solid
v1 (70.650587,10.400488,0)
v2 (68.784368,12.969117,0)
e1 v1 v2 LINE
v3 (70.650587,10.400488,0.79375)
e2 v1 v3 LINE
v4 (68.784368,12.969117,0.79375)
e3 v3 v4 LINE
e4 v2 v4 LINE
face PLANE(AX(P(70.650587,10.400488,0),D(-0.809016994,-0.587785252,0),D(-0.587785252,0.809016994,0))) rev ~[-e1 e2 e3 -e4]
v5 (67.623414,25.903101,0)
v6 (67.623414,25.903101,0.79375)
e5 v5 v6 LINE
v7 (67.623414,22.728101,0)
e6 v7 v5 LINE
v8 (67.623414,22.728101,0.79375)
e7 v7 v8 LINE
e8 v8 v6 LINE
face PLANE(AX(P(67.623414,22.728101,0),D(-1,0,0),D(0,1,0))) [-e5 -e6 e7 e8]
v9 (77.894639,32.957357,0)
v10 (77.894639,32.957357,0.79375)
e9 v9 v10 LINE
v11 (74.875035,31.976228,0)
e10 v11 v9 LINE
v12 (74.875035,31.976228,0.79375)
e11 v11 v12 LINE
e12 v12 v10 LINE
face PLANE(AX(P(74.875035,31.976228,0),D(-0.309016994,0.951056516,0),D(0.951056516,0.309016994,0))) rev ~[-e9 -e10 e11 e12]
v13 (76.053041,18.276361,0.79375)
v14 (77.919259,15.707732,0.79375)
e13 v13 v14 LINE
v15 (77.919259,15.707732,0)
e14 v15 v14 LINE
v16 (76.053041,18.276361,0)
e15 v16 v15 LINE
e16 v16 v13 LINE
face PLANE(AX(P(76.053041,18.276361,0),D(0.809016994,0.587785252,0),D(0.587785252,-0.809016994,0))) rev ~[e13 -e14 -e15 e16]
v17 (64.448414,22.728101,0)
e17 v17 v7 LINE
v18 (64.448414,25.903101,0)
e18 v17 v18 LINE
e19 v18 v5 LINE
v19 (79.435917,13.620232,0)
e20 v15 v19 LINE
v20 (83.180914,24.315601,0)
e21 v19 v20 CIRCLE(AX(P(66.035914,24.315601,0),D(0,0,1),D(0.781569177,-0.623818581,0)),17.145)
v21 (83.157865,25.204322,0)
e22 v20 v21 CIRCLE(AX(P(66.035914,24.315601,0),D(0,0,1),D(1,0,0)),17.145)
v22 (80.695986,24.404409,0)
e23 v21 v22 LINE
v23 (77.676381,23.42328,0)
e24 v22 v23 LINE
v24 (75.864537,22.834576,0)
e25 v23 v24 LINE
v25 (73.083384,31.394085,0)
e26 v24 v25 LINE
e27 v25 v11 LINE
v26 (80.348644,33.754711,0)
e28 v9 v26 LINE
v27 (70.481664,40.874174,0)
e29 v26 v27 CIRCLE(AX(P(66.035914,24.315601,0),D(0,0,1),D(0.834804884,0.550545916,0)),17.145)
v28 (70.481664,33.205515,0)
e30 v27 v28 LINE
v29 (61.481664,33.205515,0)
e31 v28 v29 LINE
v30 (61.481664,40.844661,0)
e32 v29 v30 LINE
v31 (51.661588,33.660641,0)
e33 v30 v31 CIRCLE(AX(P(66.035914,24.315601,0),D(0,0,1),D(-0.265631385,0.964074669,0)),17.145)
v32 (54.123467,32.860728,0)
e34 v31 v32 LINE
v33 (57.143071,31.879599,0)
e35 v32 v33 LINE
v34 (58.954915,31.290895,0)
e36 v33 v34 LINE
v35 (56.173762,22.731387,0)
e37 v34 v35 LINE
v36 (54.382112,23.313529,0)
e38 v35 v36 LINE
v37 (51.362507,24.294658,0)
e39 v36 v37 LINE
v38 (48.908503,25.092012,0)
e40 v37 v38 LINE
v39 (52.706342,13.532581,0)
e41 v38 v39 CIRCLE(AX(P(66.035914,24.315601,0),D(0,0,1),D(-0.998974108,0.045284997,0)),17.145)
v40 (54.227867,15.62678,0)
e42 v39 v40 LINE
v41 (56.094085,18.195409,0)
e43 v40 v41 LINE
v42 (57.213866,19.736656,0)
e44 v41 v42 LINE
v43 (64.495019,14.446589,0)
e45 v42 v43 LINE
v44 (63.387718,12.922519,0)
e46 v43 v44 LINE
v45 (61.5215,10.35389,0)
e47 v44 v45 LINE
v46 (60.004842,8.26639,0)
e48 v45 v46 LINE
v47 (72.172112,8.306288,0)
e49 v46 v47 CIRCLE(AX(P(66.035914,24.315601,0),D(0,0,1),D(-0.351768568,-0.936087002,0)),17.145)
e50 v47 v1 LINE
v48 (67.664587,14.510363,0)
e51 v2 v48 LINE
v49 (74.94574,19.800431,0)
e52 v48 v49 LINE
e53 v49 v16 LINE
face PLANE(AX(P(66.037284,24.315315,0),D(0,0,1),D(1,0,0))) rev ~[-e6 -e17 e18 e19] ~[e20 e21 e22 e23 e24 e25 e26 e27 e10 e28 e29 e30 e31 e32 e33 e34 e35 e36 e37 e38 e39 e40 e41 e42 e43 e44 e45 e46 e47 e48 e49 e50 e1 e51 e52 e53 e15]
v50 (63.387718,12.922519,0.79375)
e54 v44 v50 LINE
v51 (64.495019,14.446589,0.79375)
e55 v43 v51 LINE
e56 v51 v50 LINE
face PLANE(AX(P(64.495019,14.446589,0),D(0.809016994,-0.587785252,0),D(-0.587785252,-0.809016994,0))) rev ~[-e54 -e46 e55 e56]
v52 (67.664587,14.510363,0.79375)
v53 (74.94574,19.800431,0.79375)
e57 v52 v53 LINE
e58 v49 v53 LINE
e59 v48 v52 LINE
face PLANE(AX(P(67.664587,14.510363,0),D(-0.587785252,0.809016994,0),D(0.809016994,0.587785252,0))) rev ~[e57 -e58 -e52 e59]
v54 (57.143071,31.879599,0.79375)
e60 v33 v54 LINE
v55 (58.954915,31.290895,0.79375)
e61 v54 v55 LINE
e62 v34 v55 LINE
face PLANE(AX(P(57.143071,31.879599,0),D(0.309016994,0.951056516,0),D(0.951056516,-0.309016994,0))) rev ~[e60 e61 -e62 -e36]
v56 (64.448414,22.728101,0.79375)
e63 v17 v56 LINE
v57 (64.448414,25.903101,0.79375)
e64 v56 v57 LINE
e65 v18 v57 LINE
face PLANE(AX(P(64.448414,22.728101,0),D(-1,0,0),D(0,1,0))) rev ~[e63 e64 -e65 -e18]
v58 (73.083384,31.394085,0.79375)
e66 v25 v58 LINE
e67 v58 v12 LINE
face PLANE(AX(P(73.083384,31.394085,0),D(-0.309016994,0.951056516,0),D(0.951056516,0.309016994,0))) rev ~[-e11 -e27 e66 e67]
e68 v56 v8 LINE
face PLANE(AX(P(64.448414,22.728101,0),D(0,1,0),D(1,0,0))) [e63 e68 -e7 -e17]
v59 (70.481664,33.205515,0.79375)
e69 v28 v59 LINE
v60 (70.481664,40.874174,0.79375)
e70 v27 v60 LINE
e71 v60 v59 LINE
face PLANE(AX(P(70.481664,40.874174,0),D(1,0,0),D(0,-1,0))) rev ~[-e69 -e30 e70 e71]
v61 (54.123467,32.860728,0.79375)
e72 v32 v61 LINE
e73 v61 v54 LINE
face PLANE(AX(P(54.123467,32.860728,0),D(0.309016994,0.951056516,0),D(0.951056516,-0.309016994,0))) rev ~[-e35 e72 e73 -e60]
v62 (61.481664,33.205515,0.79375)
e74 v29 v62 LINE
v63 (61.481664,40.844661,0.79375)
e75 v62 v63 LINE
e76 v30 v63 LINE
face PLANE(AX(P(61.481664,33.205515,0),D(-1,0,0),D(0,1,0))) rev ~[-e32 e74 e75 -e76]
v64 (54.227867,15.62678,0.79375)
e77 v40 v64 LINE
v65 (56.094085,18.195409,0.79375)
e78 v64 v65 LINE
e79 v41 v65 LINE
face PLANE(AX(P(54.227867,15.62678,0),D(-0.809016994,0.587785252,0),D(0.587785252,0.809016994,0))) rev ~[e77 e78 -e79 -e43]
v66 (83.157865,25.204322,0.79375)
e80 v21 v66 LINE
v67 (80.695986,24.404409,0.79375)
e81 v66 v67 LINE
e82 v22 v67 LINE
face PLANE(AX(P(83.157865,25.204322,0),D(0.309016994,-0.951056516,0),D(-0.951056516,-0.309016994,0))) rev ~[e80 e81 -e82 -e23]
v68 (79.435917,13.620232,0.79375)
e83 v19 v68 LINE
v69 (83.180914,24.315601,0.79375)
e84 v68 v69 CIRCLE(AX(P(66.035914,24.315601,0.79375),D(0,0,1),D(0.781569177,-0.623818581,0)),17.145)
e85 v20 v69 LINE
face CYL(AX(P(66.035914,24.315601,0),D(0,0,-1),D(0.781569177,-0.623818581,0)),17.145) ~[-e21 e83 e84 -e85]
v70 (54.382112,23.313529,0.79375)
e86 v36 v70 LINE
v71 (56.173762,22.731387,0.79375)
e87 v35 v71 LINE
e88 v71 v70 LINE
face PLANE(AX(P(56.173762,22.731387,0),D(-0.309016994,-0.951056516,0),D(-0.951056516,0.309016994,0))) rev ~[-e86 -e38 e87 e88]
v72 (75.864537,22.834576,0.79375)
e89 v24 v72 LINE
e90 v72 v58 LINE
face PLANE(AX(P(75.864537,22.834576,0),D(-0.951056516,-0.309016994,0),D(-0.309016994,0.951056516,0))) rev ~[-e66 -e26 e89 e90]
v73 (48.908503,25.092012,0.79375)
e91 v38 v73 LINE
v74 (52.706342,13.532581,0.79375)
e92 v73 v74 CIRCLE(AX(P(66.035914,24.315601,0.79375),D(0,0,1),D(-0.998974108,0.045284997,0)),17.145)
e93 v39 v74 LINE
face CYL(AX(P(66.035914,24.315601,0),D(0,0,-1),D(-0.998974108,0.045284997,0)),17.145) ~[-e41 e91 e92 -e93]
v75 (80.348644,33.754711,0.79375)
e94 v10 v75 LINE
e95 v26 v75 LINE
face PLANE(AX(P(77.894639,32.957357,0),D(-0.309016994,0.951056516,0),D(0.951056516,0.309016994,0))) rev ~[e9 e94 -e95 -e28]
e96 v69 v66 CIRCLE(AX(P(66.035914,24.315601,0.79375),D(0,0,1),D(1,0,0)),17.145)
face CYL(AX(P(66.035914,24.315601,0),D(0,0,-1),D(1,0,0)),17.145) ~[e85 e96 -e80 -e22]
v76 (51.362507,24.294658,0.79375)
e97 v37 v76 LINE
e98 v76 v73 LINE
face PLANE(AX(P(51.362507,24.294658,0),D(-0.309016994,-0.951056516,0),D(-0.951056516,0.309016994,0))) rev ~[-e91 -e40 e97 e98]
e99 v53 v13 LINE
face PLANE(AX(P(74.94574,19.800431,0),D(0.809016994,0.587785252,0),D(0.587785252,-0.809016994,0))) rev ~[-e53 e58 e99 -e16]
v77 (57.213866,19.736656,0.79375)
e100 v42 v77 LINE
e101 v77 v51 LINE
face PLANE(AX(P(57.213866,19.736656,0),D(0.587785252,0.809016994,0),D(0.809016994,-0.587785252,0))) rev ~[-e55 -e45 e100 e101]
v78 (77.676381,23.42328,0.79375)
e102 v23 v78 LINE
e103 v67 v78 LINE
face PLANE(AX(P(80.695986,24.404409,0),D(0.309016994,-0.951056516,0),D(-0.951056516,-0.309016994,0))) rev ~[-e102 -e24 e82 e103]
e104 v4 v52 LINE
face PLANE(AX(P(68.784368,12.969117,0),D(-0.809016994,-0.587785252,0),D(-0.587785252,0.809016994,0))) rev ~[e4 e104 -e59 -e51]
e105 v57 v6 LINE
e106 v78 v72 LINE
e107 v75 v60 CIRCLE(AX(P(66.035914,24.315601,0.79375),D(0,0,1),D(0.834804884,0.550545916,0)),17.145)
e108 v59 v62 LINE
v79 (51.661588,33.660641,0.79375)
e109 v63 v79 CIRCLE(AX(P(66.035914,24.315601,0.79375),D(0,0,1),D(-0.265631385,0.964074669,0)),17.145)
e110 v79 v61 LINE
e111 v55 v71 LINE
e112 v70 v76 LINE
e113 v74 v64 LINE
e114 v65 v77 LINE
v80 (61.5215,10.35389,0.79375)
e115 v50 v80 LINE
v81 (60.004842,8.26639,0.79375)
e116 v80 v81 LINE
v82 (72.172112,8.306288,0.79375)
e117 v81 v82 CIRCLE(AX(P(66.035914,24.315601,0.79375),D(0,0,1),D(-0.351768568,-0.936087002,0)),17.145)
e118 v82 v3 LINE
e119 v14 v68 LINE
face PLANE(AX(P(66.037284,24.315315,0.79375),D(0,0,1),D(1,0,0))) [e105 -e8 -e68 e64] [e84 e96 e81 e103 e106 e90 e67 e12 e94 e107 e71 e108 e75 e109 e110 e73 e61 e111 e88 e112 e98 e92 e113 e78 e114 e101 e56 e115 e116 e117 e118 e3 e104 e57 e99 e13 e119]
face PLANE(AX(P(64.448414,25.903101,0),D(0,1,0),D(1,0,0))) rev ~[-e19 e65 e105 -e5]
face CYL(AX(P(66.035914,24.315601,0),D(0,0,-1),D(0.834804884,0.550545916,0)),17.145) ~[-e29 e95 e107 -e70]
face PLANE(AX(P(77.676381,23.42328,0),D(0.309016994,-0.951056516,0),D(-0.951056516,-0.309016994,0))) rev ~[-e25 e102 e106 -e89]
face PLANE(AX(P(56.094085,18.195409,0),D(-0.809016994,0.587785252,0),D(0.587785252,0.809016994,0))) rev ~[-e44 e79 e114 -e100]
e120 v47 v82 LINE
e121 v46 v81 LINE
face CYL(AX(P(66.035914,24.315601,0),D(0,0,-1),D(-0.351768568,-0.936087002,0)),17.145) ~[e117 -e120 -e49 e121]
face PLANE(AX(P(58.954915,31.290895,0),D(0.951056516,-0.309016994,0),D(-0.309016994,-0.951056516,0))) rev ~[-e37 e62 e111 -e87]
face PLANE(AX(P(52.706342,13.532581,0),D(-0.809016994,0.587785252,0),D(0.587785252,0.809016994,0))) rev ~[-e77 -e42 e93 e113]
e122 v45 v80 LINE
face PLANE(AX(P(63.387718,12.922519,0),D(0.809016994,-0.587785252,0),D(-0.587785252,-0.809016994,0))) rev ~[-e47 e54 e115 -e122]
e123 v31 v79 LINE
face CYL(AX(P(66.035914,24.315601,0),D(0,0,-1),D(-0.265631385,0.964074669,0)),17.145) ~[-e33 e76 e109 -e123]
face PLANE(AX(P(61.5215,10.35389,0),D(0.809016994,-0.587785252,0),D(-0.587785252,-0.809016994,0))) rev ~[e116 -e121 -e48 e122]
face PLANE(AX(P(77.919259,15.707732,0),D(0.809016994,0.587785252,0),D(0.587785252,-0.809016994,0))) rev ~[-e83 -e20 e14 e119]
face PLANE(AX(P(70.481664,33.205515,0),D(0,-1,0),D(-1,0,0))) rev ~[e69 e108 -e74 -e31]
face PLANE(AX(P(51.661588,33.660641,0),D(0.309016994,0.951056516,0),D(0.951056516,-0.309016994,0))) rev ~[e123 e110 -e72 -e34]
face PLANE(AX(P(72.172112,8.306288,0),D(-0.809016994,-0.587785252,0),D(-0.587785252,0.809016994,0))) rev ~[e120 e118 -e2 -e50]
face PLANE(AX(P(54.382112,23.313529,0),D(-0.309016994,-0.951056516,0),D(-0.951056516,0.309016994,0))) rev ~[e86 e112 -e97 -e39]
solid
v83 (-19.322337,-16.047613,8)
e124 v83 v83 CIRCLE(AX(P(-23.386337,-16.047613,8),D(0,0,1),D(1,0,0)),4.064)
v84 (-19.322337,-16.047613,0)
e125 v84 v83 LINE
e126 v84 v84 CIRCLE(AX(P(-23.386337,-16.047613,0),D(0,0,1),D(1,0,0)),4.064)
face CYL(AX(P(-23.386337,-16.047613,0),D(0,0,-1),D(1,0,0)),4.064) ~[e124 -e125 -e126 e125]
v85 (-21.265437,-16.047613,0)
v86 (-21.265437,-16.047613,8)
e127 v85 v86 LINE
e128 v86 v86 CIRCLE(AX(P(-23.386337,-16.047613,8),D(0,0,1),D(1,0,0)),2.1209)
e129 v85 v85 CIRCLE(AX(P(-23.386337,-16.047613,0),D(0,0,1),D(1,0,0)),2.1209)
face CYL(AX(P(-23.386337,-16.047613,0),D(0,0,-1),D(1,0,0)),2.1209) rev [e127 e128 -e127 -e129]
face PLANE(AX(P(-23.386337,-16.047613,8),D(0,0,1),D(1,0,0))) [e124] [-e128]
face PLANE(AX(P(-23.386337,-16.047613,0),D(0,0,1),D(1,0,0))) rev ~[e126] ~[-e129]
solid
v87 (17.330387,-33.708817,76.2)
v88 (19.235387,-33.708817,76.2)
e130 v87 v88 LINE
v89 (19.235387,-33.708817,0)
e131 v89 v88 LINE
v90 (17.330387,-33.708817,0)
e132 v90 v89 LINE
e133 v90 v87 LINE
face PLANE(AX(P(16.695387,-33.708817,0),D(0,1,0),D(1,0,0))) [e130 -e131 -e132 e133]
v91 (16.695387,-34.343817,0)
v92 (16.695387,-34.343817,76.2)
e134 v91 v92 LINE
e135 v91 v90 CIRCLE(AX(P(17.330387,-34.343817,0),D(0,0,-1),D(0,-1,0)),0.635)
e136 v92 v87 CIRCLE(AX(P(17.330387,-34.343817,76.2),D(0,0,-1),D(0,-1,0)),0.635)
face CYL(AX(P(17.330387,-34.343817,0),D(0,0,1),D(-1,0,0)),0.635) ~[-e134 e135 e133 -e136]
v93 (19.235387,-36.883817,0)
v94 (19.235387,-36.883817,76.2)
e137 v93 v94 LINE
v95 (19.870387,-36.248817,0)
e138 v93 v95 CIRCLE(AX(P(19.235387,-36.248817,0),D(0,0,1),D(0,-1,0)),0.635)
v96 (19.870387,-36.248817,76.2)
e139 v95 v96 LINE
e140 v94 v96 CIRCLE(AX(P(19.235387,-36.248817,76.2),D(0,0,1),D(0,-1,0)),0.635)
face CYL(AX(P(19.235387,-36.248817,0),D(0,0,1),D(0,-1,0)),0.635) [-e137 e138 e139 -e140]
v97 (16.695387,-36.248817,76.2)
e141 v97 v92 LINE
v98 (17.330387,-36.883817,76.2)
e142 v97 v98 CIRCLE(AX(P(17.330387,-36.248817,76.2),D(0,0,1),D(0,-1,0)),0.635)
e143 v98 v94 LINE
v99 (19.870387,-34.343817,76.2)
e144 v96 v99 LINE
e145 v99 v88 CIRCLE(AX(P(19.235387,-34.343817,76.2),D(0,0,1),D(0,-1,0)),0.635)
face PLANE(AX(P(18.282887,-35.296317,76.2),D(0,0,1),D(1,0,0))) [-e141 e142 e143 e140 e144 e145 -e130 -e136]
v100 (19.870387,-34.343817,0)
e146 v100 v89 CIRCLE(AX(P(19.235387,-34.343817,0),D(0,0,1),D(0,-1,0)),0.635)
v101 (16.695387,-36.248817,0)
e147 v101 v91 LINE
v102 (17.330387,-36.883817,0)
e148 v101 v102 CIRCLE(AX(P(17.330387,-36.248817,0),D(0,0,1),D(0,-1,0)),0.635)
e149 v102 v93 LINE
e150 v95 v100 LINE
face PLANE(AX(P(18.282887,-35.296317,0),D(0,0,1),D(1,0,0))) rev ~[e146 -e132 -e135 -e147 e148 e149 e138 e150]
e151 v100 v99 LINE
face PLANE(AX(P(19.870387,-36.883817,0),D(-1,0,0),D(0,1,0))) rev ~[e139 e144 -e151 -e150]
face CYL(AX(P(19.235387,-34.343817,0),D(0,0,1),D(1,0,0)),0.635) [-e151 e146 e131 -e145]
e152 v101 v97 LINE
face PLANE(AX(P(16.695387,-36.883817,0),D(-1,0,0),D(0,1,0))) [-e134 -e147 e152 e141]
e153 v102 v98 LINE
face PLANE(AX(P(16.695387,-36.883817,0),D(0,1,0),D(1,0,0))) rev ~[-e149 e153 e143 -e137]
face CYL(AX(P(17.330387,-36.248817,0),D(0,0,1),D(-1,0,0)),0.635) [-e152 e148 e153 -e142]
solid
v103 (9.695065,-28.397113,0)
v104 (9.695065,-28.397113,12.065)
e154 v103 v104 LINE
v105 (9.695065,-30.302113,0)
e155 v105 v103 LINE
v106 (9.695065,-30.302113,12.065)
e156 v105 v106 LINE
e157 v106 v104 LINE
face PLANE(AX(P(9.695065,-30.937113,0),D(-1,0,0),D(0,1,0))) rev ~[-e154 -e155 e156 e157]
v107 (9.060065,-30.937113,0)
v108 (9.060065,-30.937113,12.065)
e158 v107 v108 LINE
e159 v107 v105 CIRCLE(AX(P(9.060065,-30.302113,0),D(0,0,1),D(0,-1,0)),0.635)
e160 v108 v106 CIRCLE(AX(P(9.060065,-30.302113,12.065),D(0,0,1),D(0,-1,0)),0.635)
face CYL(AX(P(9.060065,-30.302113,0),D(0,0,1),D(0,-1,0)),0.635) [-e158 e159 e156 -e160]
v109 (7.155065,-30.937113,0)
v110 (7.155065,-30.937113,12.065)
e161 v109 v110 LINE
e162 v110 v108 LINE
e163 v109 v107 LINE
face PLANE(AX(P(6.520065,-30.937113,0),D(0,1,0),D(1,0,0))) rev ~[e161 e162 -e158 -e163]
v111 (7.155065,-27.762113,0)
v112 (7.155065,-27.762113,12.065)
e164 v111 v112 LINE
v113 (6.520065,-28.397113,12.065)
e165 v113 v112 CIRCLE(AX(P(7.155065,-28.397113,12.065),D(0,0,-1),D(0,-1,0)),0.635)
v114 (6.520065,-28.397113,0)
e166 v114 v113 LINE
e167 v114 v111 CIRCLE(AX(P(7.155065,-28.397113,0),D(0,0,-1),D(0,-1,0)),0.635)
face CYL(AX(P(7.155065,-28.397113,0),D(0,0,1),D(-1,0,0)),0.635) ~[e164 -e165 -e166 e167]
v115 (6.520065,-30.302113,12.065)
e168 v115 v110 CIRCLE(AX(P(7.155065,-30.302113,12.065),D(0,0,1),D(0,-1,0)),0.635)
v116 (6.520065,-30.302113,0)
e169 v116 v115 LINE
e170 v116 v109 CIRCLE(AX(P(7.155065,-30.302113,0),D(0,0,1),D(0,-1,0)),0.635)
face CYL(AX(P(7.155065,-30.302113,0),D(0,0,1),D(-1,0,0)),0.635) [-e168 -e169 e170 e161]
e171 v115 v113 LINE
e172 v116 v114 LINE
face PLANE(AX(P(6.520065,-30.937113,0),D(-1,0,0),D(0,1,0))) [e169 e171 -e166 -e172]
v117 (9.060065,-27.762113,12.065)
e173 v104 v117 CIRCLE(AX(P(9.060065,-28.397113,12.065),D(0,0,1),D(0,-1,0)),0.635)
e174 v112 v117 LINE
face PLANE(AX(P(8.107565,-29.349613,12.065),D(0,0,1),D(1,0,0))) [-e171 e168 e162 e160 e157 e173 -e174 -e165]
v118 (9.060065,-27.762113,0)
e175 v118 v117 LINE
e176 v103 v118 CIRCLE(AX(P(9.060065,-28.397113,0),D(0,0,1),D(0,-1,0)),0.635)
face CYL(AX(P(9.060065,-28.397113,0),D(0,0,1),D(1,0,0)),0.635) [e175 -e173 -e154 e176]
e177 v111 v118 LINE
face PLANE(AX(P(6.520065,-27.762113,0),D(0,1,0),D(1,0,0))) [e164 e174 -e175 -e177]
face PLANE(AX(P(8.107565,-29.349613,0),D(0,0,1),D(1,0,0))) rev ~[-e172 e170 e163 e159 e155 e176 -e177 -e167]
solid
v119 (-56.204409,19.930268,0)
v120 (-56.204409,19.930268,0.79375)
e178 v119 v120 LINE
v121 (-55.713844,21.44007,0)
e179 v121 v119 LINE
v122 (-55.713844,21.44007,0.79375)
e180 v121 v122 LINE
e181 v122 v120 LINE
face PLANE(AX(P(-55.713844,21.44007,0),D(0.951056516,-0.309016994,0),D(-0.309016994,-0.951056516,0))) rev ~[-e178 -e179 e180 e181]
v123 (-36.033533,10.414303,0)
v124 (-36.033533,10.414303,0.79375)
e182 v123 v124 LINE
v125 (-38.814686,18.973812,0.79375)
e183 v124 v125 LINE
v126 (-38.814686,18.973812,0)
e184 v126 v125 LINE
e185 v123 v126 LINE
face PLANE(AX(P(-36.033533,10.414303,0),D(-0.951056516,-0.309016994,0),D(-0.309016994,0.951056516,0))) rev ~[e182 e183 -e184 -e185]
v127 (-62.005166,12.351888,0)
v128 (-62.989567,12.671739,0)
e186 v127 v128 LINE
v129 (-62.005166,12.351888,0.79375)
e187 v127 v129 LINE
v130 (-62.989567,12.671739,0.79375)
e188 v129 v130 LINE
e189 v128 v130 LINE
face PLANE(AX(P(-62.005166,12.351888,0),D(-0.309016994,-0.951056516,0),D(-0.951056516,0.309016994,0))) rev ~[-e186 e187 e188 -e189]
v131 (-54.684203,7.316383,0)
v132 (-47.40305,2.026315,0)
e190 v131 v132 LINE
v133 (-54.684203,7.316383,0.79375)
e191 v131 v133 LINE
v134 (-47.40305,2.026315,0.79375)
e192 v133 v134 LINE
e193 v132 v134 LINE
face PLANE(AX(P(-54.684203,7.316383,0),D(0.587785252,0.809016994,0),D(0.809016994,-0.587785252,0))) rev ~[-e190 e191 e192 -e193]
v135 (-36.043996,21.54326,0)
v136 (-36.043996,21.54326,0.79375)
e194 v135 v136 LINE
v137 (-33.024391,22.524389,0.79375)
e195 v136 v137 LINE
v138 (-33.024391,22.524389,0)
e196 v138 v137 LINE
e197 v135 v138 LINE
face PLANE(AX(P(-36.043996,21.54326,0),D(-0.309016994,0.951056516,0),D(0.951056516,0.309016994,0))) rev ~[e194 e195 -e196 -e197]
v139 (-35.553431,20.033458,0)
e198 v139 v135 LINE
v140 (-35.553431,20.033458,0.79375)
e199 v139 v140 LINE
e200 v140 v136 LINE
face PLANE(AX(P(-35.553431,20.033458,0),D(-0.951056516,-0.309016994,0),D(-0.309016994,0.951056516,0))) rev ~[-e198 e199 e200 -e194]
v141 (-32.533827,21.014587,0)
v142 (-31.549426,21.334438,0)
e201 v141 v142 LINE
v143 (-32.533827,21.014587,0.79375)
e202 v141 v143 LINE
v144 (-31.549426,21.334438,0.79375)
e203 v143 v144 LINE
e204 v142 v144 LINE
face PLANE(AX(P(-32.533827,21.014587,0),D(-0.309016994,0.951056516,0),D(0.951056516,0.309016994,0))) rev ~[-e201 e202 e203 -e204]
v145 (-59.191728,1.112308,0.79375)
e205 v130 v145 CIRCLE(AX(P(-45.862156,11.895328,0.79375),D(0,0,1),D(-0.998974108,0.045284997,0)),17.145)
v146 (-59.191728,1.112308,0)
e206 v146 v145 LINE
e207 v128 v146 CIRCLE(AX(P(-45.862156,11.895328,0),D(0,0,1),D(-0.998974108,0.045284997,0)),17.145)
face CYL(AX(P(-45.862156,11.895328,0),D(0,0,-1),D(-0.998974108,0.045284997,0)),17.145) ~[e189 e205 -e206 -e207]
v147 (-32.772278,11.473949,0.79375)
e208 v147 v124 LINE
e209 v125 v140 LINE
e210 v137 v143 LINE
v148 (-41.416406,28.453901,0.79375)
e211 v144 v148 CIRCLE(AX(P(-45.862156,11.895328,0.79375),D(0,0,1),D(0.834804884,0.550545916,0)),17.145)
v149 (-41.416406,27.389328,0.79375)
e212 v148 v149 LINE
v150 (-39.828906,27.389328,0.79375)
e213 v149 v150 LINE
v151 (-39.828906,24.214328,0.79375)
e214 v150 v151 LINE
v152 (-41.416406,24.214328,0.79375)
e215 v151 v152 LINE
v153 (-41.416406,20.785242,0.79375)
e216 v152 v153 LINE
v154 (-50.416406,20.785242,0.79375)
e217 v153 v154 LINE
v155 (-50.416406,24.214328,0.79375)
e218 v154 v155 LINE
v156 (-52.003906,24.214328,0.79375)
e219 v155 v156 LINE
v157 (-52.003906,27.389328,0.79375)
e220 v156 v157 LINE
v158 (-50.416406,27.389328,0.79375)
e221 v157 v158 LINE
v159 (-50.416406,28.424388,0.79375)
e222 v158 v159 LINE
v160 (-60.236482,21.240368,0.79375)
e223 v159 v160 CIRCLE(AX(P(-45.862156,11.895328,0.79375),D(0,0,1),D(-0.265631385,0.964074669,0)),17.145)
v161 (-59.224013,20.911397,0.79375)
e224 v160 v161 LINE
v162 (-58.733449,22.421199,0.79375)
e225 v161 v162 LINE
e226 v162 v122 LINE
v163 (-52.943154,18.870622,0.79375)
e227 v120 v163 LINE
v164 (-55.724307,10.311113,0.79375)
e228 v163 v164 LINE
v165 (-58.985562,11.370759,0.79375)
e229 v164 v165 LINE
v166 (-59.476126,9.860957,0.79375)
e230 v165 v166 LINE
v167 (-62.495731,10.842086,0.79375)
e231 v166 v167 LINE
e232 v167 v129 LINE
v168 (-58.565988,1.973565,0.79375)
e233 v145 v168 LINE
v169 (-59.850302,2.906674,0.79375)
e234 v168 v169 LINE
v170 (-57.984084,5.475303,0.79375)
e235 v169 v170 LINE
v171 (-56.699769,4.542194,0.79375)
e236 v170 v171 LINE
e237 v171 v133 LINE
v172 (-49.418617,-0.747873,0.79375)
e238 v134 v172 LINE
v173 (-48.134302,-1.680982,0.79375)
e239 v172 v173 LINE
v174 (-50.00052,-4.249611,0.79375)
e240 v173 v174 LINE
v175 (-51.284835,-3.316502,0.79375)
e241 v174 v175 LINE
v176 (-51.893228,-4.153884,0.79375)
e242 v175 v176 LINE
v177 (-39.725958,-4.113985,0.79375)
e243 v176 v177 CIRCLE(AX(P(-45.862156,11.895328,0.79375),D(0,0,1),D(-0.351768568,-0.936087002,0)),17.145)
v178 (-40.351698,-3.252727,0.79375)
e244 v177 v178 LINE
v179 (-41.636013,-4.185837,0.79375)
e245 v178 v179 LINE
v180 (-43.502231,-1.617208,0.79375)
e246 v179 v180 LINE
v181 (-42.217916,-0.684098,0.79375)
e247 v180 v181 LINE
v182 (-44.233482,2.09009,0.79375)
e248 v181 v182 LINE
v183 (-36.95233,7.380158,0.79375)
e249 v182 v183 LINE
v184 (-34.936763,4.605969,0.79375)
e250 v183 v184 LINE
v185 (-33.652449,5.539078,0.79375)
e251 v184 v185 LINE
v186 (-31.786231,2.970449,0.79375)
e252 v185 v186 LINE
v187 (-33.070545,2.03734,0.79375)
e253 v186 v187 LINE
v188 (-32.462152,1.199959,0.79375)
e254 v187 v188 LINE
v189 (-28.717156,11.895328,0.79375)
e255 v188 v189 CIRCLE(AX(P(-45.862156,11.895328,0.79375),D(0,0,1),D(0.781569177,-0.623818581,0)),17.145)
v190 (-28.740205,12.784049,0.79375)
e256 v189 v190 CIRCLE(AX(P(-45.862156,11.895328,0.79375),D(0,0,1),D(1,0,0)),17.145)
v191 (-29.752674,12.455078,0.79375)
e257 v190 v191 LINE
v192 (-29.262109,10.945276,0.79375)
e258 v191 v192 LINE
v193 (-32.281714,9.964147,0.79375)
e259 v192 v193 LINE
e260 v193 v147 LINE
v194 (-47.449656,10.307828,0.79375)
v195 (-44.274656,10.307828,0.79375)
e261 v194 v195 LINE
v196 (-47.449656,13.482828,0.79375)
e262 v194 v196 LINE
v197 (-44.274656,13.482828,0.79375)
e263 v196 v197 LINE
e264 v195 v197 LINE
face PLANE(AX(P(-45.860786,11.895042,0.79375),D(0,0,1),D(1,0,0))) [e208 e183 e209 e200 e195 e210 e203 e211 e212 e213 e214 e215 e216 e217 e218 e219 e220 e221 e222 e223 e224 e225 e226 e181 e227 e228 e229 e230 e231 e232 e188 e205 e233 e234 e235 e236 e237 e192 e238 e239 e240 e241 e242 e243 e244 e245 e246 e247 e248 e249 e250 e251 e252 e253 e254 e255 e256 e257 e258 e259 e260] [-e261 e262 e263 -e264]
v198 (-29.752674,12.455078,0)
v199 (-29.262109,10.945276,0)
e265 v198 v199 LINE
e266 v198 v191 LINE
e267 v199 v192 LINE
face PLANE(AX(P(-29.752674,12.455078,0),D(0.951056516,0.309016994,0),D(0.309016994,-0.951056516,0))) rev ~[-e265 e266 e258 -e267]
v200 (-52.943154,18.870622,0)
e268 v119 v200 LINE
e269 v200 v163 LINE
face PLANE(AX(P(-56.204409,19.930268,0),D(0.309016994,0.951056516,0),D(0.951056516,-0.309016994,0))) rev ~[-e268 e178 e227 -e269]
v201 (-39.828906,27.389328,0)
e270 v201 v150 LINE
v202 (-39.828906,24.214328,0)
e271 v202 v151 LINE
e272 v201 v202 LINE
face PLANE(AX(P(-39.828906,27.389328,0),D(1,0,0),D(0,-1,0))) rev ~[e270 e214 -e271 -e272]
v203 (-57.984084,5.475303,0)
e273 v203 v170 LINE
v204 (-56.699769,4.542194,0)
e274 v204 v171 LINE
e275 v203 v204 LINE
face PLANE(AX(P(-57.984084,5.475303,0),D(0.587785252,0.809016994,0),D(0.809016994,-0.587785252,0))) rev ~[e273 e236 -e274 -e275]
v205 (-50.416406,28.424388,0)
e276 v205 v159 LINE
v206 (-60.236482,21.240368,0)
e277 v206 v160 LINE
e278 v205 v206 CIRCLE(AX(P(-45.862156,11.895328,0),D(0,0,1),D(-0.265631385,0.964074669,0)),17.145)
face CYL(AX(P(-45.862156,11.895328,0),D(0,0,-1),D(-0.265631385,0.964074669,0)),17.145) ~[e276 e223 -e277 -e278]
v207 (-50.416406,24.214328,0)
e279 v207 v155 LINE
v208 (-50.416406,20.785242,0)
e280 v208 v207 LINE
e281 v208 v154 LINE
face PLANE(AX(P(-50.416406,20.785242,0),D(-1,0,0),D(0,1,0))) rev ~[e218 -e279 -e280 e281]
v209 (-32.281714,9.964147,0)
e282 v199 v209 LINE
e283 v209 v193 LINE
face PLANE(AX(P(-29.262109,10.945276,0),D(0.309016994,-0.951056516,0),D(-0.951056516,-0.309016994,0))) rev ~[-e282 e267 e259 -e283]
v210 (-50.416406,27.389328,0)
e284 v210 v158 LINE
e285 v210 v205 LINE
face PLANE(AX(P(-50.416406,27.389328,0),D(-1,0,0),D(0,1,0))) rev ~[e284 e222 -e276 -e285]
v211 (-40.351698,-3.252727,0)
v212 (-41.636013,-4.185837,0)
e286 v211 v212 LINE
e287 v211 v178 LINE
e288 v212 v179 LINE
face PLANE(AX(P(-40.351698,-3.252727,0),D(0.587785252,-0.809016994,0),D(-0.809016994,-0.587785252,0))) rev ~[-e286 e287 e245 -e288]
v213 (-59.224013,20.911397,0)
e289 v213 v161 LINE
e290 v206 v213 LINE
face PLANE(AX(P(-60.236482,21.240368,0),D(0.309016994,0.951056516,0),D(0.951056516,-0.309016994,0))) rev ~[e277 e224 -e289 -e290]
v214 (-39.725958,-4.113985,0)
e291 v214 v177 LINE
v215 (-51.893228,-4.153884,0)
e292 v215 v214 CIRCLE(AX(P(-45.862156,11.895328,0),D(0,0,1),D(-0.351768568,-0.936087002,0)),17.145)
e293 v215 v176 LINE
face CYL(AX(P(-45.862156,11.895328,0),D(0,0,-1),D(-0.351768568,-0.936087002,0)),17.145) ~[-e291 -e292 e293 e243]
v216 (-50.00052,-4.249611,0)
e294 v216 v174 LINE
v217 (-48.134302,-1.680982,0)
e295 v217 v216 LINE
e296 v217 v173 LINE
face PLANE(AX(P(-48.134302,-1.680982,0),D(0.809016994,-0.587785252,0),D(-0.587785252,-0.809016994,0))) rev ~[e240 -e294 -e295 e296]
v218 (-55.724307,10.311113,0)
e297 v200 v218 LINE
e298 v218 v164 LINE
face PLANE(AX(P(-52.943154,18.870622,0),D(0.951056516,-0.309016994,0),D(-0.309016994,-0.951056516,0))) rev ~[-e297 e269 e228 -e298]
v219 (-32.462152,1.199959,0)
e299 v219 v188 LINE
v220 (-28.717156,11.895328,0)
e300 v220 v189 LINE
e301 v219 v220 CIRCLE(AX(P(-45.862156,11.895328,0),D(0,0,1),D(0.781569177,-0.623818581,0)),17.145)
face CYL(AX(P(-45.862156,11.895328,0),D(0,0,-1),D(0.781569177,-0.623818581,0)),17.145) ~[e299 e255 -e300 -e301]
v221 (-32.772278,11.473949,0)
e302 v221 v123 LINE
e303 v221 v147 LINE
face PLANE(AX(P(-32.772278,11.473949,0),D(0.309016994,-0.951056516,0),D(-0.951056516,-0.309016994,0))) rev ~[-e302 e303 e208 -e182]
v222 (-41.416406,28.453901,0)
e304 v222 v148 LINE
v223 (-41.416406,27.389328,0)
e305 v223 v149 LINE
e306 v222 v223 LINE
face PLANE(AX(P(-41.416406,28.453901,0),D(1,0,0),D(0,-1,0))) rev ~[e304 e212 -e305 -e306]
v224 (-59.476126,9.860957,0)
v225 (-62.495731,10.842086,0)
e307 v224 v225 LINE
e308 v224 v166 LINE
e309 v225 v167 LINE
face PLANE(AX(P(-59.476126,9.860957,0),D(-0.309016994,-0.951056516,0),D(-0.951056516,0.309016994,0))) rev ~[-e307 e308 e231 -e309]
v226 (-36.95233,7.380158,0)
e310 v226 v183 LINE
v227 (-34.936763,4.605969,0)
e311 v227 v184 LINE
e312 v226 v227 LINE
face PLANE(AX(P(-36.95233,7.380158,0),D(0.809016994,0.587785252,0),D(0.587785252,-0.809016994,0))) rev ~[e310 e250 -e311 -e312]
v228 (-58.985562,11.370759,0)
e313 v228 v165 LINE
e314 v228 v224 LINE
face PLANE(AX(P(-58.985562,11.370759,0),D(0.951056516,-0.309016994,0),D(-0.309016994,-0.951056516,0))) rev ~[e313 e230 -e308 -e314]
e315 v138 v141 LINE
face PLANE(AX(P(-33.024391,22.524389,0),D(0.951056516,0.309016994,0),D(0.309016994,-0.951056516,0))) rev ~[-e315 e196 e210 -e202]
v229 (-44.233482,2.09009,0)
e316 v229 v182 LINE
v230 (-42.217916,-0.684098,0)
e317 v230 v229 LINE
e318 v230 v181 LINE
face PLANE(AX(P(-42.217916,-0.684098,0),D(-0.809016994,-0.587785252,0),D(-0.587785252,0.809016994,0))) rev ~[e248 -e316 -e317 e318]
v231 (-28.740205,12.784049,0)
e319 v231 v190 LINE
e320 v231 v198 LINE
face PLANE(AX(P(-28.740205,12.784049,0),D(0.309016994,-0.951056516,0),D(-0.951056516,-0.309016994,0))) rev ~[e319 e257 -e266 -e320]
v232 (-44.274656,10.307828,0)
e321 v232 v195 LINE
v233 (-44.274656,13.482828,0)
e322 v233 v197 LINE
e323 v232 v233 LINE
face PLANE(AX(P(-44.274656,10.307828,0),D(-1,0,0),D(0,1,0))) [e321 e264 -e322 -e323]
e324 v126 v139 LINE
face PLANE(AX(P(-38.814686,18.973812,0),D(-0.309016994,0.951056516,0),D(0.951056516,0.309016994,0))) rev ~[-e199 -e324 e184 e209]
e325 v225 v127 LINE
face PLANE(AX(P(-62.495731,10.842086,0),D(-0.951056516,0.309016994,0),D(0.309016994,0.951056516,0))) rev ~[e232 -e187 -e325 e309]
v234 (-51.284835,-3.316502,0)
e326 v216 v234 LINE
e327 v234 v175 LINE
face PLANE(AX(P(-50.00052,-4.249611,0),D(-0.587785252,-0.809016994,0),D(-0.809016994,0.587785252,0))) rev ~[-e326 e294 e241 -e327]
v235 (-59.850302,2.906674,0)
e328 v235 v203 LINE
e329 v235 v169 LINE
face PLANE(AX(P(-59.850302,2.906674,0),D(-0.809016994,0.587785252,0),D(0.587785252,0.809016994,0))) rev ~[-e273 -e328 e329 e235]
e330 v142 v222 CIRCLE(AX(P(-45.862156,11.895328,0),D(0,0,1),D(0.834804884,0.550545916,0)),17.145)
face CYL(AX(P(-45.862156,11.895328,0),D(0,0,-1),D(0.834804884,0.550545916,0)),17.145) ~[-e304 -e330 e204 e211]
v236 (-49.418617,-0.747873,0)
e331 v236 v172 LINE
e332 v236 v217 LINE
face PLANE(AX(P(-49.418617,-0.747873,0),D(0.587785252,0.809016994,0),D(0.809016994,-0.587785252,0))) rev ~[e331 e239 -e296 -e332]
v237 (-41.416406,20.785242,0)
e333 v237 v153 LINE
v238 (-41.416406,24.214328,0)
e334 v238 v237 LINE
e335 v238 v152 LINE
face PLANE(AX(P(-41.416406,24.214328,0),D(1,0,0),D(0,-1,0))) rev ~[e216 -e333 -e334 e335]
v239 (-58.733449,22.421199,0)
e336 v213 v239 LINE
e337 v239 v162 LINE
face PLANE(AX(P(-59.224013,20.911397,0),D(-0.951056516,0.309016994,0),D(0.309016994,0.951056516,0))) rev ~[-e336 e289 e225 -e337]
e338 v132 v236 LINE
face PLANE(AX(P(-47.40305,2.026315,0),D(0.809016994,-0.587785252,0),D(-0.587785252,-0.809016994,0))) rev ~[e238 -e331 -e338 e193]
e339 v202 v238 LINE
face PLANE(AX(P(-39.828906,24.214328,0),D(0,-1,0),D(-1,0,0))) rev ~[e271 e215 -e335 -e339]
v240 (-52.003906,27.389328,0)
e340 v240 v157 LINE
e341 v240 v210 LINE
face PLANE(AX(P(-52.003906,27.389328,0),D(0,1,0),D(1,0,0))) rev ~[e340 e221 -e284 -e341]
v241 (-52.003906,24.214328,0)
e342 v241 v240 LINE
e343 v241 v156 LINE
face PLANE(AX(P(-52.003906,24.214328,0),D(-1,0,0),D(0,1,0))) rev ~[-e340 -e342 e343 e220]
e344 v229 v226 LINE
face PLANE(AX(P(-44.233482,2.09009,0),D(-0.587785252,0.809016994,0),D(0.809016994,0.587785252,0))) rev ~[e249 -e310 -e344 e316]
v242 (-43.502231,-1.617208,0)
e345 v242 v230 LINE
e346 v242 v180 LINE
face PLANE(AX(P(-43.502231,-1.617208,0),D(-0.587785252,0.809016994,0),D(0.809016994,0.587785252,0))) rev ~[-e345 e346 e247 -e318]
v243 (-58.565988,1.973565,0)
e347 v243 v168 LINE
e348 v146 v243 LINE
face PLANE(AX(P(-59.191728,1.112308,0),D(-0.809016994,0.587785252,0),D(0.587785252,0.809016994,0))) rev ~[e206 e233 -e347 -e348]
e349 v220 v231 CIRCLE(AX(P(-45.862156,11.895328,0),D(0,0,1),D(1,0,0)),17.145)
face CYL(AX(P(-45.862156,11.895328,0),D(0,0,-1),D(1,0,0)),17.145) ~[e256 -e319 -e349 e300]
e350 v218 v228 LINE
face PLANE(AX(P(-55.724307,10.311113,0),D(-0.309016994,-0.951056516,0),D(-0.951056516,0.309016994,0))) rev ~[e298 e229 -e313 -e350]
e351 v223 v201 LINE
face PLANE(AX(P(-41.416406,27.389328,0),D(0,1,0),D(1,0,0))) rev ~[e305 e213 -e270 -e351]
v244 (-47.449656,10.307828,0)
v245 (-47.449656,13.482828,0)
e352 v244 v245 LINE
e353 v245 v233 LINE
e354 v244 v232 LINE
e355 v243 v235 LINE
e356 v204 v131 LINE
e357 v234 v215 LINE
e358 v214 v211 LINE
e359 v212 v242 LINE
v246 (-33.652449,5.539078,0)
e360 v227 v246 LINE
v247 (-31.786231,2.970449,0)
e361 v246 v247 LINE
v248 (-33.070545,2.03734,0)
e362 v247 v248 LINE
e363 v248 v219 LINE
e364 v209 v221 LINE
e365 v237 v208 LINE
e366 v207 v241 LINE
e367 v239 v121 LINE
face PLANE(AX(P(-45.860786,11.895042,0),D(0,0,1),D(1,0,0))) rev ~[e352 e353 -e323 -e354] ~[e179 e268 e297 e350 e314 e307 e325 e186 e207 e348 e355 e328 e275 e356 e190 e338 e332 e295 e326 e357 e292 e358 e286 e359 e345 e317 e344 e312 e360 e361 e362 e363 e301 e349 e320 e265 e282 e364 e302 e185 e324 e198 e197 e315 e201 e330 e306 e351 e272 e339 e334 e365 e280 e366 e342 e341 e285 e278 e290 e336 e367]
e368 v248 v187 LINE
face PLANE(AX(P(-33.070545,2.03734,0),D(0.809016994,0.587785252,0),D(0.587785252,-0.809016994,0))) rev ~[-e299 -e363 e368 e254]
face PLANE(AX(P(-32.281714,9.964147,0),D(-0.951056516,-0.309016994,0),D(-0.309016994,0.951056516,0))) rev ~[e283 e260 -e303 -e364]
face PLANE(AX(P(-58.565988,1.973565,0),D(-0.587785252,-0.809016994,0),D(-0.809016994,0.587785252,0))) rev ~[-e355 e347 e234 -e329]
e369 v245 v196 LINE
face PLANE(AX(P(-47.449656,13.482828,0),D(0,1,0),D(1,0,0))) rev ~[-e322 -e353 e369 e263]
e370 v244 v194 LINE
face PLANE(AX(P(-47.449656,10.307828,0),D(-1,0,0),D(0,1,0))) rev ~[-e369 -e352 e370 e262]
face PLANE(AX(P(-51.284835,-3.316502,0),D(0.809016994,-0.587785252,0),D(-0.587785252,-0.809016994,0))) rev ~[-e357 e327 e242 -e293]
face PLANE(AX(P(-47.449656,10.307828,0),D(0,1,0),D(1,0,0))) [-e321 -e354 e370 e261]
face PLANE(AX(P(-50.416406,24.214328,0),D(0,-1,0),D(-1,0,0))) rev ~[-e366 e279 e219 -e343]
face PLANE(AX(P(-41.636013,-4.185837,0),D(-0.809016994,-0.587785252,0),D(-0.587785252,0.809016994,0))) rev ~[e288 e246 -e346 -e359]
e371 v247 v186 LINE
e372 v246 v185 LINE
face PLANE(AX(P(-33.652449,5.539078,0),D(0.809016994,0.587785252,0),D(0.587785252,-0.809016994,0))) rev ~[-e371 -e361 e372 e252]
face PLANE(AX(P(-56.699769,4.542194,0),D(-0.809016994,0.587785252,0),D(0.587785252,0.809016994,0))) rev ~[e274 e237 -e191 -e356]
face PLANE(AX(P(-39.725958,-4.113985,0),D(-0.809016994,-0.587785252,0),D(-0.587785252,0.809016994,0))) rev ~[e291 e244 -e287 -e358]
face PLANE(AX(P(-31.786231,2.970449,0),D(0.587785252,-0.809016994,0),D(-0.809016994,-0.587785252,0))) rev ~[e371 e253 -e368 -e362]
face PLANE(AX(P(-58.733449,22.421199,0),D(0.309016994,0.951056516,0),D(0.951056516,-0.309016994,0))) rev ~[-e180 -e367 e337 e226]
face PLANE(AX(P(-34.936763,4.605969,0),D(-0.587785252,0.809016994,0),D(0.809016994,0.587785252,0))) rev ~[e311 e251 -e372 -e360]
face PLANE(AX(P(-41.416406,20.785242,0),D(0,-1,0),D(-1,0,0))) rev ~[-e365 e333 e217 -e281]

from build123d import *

# Parameters (mm, degrees)
F0_W     = 3.175
F0_H     = 3.175
F0_W_2   = 1.5875
F1_DEPTH = 0.79375
F0_R     = 4.064
F0_R_2   = 2.1209
F2_DEPTH = 8
F3_DEPTH = 12.065
F4_DEPTH = 76.2
F5_R     = 0.635
F5_2_R   = 0.635


with BuildPart() as f1:
    # F0 (on Top) → F1 (new body)
    with BuildSketch(Plane.XY):
        with BuildLine():
            ThreePointArc((79.4359174406, 13.620231622), (82.2176024045, 18.6495635805), (83.1809139002, 24.3156011863))
            ThreePointArc((83.1809139002, 24.3156011863), (83.1751506376, 24.7601110941), (83.1578647245, 25.2043221595))
            Line((83.1578647245, 25.2043221595), (80.6959857074, 24.4044091771))
            Line((80.6959857074, 24.4044091771), (81.186550186, 22.8946069574))
            Line((81.186550186, 22.8946069574), (78.1669457467, 21.9134780003))
            Line((78.1669457467, 21.9134780003), (77.6763812682, 23.4232802199))
            Line((77.6763812682, 23.4232802199), (75.8645369763, 22.834576323))
            Line((75.8645369763, 22.834576323), (73.0833840269, 31.3940849696))
            Line((73.0833840269, 31.3940849696), (74.8750347538, 31.9762275796))
            Line((74.8750347538, 31.9762275796), (74.3844702753, 33.4860297992))
            Line((74.3844702753, 33.4860297992), (77.4040747145, 34.4671587563))
            Line((77.4040747145, 34.4671587563), (77.8946391931, 32.9573565367))
            Line((77.8946391931, 32.9573565367), (80.3486436372, 33.7547109153))
            ThreePointArc((80.3486436372, 33.7547109153), (76.0679539826, 38.2191689581), (70.481663809, 40.8741739734))
            Line((70.481663809, 40.8741739734), (70.481663809, 38.2856011863))
            Line((70.481663809, 38.2856011863), (72.069163809, 38.2856011863))
            Line((72.069163809, 38.2856011863), (72.069163809, 35.1106011863))
            Line((72.069163809, 35.1106011863), (70.481663809, 35.1106011863))
            Line((70.481663809, 35.1106011863), (70.481663809, 33.2055153572))
            Line((70.481663809, 33.2055153572), (61.481663809, 33.2055153572))
            Line((61.481663809, 33.2055153572), (61.481663809, 35.0893684155))
            Line((61.481663809, 35.0893684155), (59.894163809, 35.0893684155))
            Line((59.894163809, 35.0893684155), (59.894163809, 38.2643684155))
            Line((59.894163809, 38.2643684155), (61.481663809, 38.2643684155))
            Line((61.481663809, 38.2643684155), (61.481663809, 40.8446613866))
            ThreePointArc((61.481663809, 40.8446613866), (55.9129060448, 38.1530770023), (51.661587625, 33.6606410007))
            Line((51.661587625, 33.6606410007), (54.1234666421, 32.8607280183))
            Line((54.1234666421, 32.8607280183), (54.6140311207, 34.3705302379))
            Line((54.6140311207, 34.3705302379), (57.6336355599, 33.3894012808))
            Line((57.6336355599, 33.3894012808), (57.1430710814, 31.8795990611))
            Line((57.1430710814, 31.8795990611), (58.9549153732, 31.2908951642))
            Line((58.9549153732, 31.2908951642), (56.1737624238, 22.7313865175))
            Line((56.1737624238, 22.7313865175), (54.3821116969, 23.3135291275))
            Line((54.3821116969, 23.3135291275), (53.8915472184, 21.8037269079))
            Line((53.8915472184, 21.8037269079), (50.8719427791, 22.784855865))
            Line((50.8719427791, 22.784855865), (51.3625072577, 24.2946580846))
            Line((51.3625072577, 24.2946580846), (48.9085028136, 25.0920124632))
            ThreePointArc((48.9085028136, 25.0920124632), (49.7475108948, 18.9640637873), (52.7063417879, 13.5325806306))
            Line((52.7063417879, 13.5325806306), (54.2278666967, 15.6267800066))
            Line((54.2278666967, 15.6267800066), (52.9435522181, 16.5598890946))
            Line((52.9435522181, 16.5598890946), (54.8097703941, 19.1285180518))
            Line((54.8097703941, 19.1285180518), (56.0940848727, 18.1954089638))
            Line((56.0940848727, 18.1954089638), (57.2138662274, 19.7366557752))
            Line((57.2138662274, 19.7366557752), (64.4950191768, 14.4465885046))
            Line((64.4950191768, 14.4465885046), (63.3877181316, 12.9225193655))
            Line((63.3877181316, 12.9225193655), (64.6720326102, 11.9894102775))
            Line((64.6720326102, 11.9894102775), (62.8058144341, 9.4207813203))
            Line((62.8058144341, 9.4207813203), (61.5214999556, 10.3538904083))
            Line((61.5214999556, 10.3538904083), (60.0048418006, 8.2663895443))
            ThreePointArc((60.0048418006, 8.2663895443), (66.0921350758, 7.1706933656), (72.1721115545, 8.306288167))
            Line((72.1721115545, 8.306288167), (70.6505866457, 10.400487543))
            Line((70.6505866457, 10.400487543), (69.3662721672, 9.467378455))
            Line((69.3662721672, 9.467378455), (67.5000539911, 12.0360074122))
            Line((67.5000539911, 12.0360074122), (68.7843684697, 12.9691165002))
            Line((68.7843684697, 12.9691165002), (67.664587115, 14.5103633117))
            Line((67.664587115, 14.5103633117), (74.9457400644, 19.8004305823))
            Line((74.9457400644, 19.8004305823), (76.0530411096, 18.2763614432))
            Line((76.0530411096, 18.2763614432), (77.3373555881, 19.2094705312))
            Line((77.3373555881, 19.2094705312), (79.2035737642, 16.640841574))
            Line((79.2035737642, 16.640841574), (77.9192592856, 15.707732486))
            Line((77.9192592856, 15.707732486), (79.4359174406, 13.620231622))
        make_face()
        with Locations((66.0359139002, 24.3156011863)):
            Rectangle(F0_W, F0_H, mode=Mode.SUBTRACT)
        with Locations((60.687913809, 36.6768684155)):
            Rectangle(F0_W_2, F0_H)
        with Locations((71.275413809, 36.6981011863)):
            Rectangle(F0_W_2, F0_H)
        Polygon((74.8750347538, 31.9762275796), (77.8946391931, 32.9573565367), (77.4040747145, 34.4671587563), (74.3844702753, 33.4860297992), align=None)
        Polygon((81.186550186, 22.8946069574), (80.6959857074, 24.4044091771), (77.6763812682, 23.4232802199), (78.1669457467, 21.9134780003), align=None)
        Polygon((76.0530411096, 18.2763614432), (77.9192592856, 15.707732486), (79.2035737642, 16.640841574), (77.3373555881, 19.2094705312), align=None)
        Polygon((69.3662721672, 9.467378455), (70.6505866457, 10.400487543), (68.7843684697, 12.9691165002), (67.5000539911, 12.0360074122), align=None)
        Polygon((63.3877181316, 12.9225193655), (61.5214999556, 10.3538904083), (62.8058144341, 9.4207813203), (64.6720326102, 11.9894102775), align=None)
        Polygon((52.9435522181, 16.5598890946), (54.2278666967, 15.6267800066), (56.0940848727, 18.1954089638), (54.8097703941, 19.1285180518), align=None)
        Polygon((54.3821116969, 23.3135291275), (51.3625072577, 24.2946580846), (50.8719427791, 22.784855865), (53.8915472184, 21.8037269079), align=None)
        Polygon((54.6140311207, 34.3705302379), (54.1234666421, 32.8607280183), (57.1430710814, 31.8795990611), (57.6336355599, 33.3894012808), align=None)
    extrude(amount=F1_DEPTH)


with BuildPart() as f1b:
    # F0 (on Top) → F1, piece 2 (new body)
    with BuildSketch(Plane.XY):
        with BuildLine():
            ThreePointArc((-32.4621521639, 1.1999585457), (-29.6804672, 6.2292905042), (-28.7171557043, 11.89532811))
            ThreePointArc((-28.7171557043, 11.89532811), (-28.7229189669, 12.3398380178), (-28.7402048799, 12.7840490832))
            Line((-28.7402048799, 12.7840490832), (-29.7526737663, 12.4550780002))
            Line((-29.7526737663, 12.4550780002), (-29.2621092877, 10.9452757806))
            Line((-29.2621092877, 10.9452757806), (-32.2817137269, 9.9641468234))
            Line((-32.2817137269, 9.9641468234), (-32.7722782055, 11.4739490431))
            Line((-32.7722782055, 11.4739490431), (-36.0335326282, 10.4143032467))
            Line((-36.0335326282, 10.4143032467), (-38.8146855776, 18.9738118934))
            Line((-38.8146855776, 18.9738118934), (-35.5534311549, 20.0334576897))
            Line((-35.5534311549, 20.0334576897), (-36.0439956334, 21.5432599093))
            Line((-36.0439956334, 21.5432599093), (-33.0243911942, 22.5243888665))
            Line((-33.0243911942, 22.5243888665), (-32.5338267156, 21.0145866469))
            Line((-32.5338267156, 21.0145866469), (-31.5494259673, 21.334437839))
            ThreePointArc((-31.5494259673, 21.334437839), (-35.8301156219, 25.7988958818), (-41.4164057955, 28.4539008971))
            Line((-41.4164057955, 28.4539008971), (-41.4164057955, 27.38932811))
            Line((-41.4164057955, 27.38932811), (-39.8289057955, 27.38932811))
            Line((-39.8289057955, 27.38932811), (-39.8289057955, 24.21432811))
            Line((-39.8289057955, 24.21432811), (-41.4164057955, 24.21432811))
            Line((-41.4164057955, 24.21432811), (-41.4164057955, 20.7852422809))
            Line((-41.4164057955, 20.7852422809), (-50.4164057955, 20.7852422809))
            Line((-50.4164057955, 20.7852422809), (-50.4164057955, 24.21432811))
            Line((-50.4164057955, 24.21432811), (-52.0039057955, 24.21432811))
            Line((-52.0039057955, 24.21432811), (-52.0039057955, 27.38932811))
            Line((-52.0039057955, 27.38932811), (-50.4164057955, 27.38932811))
            Line((-50.4164057955, 27.38932811), (-50.4164057955, 28.4243883103))
            ThreePointArc((-50.4164057955, 28.4243883103), (-55.9851635597, 25.732803926), (-60.2364819795, 21.2403679244))
            Line((-60.2364819795, 21.2403679244), (-59.2240130932, 20.9113968414))
            Line((-59.2240130932, 20.9113968414), (-58.7334486146, 22.421199061))
            Line((-58.7334486146, 22.421199061), (-55.7138441754, 21.4400701039))
            Line((-55.7138441754, 21.4400701039), (-56.204408654, 19.9302678843))
            Line((-56.204408654, 19.9302678843), (-52.9431542313, 18.8706220879))
            Line((-52.9431542313, 18.8706220879), (-55.7243071807, 10.3111134413))
            Line((-55.7243071807, 10.3111134413), (-58.9855616034, 11.3707592376))
            Line((-58.9855616034, 11.3707592376), (-59.4761260819, 9.860957018))
            Line((-59.4761260819, 9.860957018), (-62.4957305212, 10.8420859751))
            Line((-62.4957305212, 10.8420859751), (-62.0051660426, 12.3518881948))
            Line((-62.0051660426, 12.3518881948), (-62.9895667909, 12.6717393869))
            ThreePointArc((-62.9895667909, 12.6717393869), (-62.1505587097, 6.543790711), (-59.1917278166, 1.1123075543))
            Line((-59.1917278166, 1.1123075543), (-58.5659876323, 1.9735650309))
            Line((-58.5659876323, 1.9735650309), (-59.8503021109, 2.9066741189))
            Line((-59.8503021109, 2.9066741189), (-57.9840839349, 5.4753030761))
            Line((-57.9840839349, 5.4753030761), (-56.6997694563, 4.5421939881))
            Line((-56.6997694563, 4.5421939881), (-54.6842033771, 7.316382699))
            Line((-54.6842033771, 7.316382699), (-47.4030504277, 2.0263154283))
            Line((-47.4030504277, 2.0263154283), (-49.4186165069, -0.7478732826))
            Line((-49.4186165069, -0.7478732826), (-48.1343020283, -1.6809823706))
            Line((-48.1343020283, -1.6809823706), (-50.0005202044, -4.2496113277))
            Line((-50.0005202044, -4.2496113277), (-51.2848346829, -3.3165022397))
            Line((-51.2848346829, -3.3165022397), (-51.8932278039, -4.153883532))
            ThreePointArc((-51.8932278039, -4.153883532), (-45.8059345287, -5.2495797107), (-39.72595805, -4.1139849092))
            Line((-39.72595805, -4.1139849092), (-40.3516982343, -3.2527274327))
            Line((-40.3516982343, -3.2527274327), (-41.6360127128, -4.1858365207))
            Line((-41.6360127128, -4.1858365207), (-43.5022308889, -1.6172075635))
            Line((-43.5022308889, -1.6172075635), (-42.2179164103, -0.6840984755))
            Line((-42.2179164103, -0.6840984755), (-44.2334824895, 2.0900902354))
            Line((-44.2334824895, 2.0900902354), (-36.9523295401, 7.380157506))
            Line((-36.9523295401, 7.380157506), (-34.9367634609, 4.6059687951))
            Line((-34.9367634609, 4.6059687951), (-33.6524489824, 5.5390778831))
            Line((-33.6524489824, 5.5390778831), (-31.7862308063, 2.970448926))
            Line((-31.7862308063, 2.970448926), (-33.0705452849, 2.037339838))
            Line((-33.0705452849, 2.037339838), (-32.4621521639, 1.1999585457))
        make_face()
        with Locations((-45.8621557043, 11.89532811)):
            Rectangle(F0_W, F0_H, mode=Mode.SUBTRACT)
    extrude(amount=F1_DEPTH)


with BuildPart() as f2:
    # F0 (on Top) → F2 (new body)
    with BuildSketch(Plane.XY):
        with Locations((-23.3863368352, -16.047612899)):
            Circle(F0_R)
        with Locations((-23.3863368352, -16.047612899)):
            Circle(F0_R_2, mode=Mode.SUBTRACT)
    extrude(amount=F2_DEPTH)


with BuildPart() as f3:
    # F0 (on Top) → F3 (new body)
    with BuildSketch(Plane.XY):
        with Locations((8.1075645477, -29.3496128678)):
            Rectangle(F0_W, F0_H)
    extrude(amount=F3_DEPTH)

    # F5
    f5_edges = [f3.edges().sort_by_distance(p)[0] for p in [
        (9.695065, -30.937113, 6.0325),
        (6.520065, -30.937113, 6.0325),
        (9.695065, -27.762113, 6.0325),
        (6.520065, -27.762113, 6.0325),
    ]]
    fillet(f5_edges, radius=F5_R)


with BuildPart() as f4:
    # F0 (on Top) → F4 (new body)
    with BuildSketch(Plane.XY):
        with Locations((18.2828865945, -35.2963171899)):
            Rectangle(F0_W, F0_H)
    extrude(amount=F4_DEPTH)

    # F5#2
    f5_2_edges = [f4.edges().sort_by_distance(p)[0] for p in [
        (19.870387, -36.883817, 38.1),
        (16.695387, -36.883817, 38.1),
        (19.870387, -33.708817, 38.1),
        (16.695387, -33.708817, 38.1),
    ]]
    fillet(f5_2_edges, radius=F5_2_R)


solid = Compound([f1.part, f1b.part, f2.part, f3.part, f4.part])
